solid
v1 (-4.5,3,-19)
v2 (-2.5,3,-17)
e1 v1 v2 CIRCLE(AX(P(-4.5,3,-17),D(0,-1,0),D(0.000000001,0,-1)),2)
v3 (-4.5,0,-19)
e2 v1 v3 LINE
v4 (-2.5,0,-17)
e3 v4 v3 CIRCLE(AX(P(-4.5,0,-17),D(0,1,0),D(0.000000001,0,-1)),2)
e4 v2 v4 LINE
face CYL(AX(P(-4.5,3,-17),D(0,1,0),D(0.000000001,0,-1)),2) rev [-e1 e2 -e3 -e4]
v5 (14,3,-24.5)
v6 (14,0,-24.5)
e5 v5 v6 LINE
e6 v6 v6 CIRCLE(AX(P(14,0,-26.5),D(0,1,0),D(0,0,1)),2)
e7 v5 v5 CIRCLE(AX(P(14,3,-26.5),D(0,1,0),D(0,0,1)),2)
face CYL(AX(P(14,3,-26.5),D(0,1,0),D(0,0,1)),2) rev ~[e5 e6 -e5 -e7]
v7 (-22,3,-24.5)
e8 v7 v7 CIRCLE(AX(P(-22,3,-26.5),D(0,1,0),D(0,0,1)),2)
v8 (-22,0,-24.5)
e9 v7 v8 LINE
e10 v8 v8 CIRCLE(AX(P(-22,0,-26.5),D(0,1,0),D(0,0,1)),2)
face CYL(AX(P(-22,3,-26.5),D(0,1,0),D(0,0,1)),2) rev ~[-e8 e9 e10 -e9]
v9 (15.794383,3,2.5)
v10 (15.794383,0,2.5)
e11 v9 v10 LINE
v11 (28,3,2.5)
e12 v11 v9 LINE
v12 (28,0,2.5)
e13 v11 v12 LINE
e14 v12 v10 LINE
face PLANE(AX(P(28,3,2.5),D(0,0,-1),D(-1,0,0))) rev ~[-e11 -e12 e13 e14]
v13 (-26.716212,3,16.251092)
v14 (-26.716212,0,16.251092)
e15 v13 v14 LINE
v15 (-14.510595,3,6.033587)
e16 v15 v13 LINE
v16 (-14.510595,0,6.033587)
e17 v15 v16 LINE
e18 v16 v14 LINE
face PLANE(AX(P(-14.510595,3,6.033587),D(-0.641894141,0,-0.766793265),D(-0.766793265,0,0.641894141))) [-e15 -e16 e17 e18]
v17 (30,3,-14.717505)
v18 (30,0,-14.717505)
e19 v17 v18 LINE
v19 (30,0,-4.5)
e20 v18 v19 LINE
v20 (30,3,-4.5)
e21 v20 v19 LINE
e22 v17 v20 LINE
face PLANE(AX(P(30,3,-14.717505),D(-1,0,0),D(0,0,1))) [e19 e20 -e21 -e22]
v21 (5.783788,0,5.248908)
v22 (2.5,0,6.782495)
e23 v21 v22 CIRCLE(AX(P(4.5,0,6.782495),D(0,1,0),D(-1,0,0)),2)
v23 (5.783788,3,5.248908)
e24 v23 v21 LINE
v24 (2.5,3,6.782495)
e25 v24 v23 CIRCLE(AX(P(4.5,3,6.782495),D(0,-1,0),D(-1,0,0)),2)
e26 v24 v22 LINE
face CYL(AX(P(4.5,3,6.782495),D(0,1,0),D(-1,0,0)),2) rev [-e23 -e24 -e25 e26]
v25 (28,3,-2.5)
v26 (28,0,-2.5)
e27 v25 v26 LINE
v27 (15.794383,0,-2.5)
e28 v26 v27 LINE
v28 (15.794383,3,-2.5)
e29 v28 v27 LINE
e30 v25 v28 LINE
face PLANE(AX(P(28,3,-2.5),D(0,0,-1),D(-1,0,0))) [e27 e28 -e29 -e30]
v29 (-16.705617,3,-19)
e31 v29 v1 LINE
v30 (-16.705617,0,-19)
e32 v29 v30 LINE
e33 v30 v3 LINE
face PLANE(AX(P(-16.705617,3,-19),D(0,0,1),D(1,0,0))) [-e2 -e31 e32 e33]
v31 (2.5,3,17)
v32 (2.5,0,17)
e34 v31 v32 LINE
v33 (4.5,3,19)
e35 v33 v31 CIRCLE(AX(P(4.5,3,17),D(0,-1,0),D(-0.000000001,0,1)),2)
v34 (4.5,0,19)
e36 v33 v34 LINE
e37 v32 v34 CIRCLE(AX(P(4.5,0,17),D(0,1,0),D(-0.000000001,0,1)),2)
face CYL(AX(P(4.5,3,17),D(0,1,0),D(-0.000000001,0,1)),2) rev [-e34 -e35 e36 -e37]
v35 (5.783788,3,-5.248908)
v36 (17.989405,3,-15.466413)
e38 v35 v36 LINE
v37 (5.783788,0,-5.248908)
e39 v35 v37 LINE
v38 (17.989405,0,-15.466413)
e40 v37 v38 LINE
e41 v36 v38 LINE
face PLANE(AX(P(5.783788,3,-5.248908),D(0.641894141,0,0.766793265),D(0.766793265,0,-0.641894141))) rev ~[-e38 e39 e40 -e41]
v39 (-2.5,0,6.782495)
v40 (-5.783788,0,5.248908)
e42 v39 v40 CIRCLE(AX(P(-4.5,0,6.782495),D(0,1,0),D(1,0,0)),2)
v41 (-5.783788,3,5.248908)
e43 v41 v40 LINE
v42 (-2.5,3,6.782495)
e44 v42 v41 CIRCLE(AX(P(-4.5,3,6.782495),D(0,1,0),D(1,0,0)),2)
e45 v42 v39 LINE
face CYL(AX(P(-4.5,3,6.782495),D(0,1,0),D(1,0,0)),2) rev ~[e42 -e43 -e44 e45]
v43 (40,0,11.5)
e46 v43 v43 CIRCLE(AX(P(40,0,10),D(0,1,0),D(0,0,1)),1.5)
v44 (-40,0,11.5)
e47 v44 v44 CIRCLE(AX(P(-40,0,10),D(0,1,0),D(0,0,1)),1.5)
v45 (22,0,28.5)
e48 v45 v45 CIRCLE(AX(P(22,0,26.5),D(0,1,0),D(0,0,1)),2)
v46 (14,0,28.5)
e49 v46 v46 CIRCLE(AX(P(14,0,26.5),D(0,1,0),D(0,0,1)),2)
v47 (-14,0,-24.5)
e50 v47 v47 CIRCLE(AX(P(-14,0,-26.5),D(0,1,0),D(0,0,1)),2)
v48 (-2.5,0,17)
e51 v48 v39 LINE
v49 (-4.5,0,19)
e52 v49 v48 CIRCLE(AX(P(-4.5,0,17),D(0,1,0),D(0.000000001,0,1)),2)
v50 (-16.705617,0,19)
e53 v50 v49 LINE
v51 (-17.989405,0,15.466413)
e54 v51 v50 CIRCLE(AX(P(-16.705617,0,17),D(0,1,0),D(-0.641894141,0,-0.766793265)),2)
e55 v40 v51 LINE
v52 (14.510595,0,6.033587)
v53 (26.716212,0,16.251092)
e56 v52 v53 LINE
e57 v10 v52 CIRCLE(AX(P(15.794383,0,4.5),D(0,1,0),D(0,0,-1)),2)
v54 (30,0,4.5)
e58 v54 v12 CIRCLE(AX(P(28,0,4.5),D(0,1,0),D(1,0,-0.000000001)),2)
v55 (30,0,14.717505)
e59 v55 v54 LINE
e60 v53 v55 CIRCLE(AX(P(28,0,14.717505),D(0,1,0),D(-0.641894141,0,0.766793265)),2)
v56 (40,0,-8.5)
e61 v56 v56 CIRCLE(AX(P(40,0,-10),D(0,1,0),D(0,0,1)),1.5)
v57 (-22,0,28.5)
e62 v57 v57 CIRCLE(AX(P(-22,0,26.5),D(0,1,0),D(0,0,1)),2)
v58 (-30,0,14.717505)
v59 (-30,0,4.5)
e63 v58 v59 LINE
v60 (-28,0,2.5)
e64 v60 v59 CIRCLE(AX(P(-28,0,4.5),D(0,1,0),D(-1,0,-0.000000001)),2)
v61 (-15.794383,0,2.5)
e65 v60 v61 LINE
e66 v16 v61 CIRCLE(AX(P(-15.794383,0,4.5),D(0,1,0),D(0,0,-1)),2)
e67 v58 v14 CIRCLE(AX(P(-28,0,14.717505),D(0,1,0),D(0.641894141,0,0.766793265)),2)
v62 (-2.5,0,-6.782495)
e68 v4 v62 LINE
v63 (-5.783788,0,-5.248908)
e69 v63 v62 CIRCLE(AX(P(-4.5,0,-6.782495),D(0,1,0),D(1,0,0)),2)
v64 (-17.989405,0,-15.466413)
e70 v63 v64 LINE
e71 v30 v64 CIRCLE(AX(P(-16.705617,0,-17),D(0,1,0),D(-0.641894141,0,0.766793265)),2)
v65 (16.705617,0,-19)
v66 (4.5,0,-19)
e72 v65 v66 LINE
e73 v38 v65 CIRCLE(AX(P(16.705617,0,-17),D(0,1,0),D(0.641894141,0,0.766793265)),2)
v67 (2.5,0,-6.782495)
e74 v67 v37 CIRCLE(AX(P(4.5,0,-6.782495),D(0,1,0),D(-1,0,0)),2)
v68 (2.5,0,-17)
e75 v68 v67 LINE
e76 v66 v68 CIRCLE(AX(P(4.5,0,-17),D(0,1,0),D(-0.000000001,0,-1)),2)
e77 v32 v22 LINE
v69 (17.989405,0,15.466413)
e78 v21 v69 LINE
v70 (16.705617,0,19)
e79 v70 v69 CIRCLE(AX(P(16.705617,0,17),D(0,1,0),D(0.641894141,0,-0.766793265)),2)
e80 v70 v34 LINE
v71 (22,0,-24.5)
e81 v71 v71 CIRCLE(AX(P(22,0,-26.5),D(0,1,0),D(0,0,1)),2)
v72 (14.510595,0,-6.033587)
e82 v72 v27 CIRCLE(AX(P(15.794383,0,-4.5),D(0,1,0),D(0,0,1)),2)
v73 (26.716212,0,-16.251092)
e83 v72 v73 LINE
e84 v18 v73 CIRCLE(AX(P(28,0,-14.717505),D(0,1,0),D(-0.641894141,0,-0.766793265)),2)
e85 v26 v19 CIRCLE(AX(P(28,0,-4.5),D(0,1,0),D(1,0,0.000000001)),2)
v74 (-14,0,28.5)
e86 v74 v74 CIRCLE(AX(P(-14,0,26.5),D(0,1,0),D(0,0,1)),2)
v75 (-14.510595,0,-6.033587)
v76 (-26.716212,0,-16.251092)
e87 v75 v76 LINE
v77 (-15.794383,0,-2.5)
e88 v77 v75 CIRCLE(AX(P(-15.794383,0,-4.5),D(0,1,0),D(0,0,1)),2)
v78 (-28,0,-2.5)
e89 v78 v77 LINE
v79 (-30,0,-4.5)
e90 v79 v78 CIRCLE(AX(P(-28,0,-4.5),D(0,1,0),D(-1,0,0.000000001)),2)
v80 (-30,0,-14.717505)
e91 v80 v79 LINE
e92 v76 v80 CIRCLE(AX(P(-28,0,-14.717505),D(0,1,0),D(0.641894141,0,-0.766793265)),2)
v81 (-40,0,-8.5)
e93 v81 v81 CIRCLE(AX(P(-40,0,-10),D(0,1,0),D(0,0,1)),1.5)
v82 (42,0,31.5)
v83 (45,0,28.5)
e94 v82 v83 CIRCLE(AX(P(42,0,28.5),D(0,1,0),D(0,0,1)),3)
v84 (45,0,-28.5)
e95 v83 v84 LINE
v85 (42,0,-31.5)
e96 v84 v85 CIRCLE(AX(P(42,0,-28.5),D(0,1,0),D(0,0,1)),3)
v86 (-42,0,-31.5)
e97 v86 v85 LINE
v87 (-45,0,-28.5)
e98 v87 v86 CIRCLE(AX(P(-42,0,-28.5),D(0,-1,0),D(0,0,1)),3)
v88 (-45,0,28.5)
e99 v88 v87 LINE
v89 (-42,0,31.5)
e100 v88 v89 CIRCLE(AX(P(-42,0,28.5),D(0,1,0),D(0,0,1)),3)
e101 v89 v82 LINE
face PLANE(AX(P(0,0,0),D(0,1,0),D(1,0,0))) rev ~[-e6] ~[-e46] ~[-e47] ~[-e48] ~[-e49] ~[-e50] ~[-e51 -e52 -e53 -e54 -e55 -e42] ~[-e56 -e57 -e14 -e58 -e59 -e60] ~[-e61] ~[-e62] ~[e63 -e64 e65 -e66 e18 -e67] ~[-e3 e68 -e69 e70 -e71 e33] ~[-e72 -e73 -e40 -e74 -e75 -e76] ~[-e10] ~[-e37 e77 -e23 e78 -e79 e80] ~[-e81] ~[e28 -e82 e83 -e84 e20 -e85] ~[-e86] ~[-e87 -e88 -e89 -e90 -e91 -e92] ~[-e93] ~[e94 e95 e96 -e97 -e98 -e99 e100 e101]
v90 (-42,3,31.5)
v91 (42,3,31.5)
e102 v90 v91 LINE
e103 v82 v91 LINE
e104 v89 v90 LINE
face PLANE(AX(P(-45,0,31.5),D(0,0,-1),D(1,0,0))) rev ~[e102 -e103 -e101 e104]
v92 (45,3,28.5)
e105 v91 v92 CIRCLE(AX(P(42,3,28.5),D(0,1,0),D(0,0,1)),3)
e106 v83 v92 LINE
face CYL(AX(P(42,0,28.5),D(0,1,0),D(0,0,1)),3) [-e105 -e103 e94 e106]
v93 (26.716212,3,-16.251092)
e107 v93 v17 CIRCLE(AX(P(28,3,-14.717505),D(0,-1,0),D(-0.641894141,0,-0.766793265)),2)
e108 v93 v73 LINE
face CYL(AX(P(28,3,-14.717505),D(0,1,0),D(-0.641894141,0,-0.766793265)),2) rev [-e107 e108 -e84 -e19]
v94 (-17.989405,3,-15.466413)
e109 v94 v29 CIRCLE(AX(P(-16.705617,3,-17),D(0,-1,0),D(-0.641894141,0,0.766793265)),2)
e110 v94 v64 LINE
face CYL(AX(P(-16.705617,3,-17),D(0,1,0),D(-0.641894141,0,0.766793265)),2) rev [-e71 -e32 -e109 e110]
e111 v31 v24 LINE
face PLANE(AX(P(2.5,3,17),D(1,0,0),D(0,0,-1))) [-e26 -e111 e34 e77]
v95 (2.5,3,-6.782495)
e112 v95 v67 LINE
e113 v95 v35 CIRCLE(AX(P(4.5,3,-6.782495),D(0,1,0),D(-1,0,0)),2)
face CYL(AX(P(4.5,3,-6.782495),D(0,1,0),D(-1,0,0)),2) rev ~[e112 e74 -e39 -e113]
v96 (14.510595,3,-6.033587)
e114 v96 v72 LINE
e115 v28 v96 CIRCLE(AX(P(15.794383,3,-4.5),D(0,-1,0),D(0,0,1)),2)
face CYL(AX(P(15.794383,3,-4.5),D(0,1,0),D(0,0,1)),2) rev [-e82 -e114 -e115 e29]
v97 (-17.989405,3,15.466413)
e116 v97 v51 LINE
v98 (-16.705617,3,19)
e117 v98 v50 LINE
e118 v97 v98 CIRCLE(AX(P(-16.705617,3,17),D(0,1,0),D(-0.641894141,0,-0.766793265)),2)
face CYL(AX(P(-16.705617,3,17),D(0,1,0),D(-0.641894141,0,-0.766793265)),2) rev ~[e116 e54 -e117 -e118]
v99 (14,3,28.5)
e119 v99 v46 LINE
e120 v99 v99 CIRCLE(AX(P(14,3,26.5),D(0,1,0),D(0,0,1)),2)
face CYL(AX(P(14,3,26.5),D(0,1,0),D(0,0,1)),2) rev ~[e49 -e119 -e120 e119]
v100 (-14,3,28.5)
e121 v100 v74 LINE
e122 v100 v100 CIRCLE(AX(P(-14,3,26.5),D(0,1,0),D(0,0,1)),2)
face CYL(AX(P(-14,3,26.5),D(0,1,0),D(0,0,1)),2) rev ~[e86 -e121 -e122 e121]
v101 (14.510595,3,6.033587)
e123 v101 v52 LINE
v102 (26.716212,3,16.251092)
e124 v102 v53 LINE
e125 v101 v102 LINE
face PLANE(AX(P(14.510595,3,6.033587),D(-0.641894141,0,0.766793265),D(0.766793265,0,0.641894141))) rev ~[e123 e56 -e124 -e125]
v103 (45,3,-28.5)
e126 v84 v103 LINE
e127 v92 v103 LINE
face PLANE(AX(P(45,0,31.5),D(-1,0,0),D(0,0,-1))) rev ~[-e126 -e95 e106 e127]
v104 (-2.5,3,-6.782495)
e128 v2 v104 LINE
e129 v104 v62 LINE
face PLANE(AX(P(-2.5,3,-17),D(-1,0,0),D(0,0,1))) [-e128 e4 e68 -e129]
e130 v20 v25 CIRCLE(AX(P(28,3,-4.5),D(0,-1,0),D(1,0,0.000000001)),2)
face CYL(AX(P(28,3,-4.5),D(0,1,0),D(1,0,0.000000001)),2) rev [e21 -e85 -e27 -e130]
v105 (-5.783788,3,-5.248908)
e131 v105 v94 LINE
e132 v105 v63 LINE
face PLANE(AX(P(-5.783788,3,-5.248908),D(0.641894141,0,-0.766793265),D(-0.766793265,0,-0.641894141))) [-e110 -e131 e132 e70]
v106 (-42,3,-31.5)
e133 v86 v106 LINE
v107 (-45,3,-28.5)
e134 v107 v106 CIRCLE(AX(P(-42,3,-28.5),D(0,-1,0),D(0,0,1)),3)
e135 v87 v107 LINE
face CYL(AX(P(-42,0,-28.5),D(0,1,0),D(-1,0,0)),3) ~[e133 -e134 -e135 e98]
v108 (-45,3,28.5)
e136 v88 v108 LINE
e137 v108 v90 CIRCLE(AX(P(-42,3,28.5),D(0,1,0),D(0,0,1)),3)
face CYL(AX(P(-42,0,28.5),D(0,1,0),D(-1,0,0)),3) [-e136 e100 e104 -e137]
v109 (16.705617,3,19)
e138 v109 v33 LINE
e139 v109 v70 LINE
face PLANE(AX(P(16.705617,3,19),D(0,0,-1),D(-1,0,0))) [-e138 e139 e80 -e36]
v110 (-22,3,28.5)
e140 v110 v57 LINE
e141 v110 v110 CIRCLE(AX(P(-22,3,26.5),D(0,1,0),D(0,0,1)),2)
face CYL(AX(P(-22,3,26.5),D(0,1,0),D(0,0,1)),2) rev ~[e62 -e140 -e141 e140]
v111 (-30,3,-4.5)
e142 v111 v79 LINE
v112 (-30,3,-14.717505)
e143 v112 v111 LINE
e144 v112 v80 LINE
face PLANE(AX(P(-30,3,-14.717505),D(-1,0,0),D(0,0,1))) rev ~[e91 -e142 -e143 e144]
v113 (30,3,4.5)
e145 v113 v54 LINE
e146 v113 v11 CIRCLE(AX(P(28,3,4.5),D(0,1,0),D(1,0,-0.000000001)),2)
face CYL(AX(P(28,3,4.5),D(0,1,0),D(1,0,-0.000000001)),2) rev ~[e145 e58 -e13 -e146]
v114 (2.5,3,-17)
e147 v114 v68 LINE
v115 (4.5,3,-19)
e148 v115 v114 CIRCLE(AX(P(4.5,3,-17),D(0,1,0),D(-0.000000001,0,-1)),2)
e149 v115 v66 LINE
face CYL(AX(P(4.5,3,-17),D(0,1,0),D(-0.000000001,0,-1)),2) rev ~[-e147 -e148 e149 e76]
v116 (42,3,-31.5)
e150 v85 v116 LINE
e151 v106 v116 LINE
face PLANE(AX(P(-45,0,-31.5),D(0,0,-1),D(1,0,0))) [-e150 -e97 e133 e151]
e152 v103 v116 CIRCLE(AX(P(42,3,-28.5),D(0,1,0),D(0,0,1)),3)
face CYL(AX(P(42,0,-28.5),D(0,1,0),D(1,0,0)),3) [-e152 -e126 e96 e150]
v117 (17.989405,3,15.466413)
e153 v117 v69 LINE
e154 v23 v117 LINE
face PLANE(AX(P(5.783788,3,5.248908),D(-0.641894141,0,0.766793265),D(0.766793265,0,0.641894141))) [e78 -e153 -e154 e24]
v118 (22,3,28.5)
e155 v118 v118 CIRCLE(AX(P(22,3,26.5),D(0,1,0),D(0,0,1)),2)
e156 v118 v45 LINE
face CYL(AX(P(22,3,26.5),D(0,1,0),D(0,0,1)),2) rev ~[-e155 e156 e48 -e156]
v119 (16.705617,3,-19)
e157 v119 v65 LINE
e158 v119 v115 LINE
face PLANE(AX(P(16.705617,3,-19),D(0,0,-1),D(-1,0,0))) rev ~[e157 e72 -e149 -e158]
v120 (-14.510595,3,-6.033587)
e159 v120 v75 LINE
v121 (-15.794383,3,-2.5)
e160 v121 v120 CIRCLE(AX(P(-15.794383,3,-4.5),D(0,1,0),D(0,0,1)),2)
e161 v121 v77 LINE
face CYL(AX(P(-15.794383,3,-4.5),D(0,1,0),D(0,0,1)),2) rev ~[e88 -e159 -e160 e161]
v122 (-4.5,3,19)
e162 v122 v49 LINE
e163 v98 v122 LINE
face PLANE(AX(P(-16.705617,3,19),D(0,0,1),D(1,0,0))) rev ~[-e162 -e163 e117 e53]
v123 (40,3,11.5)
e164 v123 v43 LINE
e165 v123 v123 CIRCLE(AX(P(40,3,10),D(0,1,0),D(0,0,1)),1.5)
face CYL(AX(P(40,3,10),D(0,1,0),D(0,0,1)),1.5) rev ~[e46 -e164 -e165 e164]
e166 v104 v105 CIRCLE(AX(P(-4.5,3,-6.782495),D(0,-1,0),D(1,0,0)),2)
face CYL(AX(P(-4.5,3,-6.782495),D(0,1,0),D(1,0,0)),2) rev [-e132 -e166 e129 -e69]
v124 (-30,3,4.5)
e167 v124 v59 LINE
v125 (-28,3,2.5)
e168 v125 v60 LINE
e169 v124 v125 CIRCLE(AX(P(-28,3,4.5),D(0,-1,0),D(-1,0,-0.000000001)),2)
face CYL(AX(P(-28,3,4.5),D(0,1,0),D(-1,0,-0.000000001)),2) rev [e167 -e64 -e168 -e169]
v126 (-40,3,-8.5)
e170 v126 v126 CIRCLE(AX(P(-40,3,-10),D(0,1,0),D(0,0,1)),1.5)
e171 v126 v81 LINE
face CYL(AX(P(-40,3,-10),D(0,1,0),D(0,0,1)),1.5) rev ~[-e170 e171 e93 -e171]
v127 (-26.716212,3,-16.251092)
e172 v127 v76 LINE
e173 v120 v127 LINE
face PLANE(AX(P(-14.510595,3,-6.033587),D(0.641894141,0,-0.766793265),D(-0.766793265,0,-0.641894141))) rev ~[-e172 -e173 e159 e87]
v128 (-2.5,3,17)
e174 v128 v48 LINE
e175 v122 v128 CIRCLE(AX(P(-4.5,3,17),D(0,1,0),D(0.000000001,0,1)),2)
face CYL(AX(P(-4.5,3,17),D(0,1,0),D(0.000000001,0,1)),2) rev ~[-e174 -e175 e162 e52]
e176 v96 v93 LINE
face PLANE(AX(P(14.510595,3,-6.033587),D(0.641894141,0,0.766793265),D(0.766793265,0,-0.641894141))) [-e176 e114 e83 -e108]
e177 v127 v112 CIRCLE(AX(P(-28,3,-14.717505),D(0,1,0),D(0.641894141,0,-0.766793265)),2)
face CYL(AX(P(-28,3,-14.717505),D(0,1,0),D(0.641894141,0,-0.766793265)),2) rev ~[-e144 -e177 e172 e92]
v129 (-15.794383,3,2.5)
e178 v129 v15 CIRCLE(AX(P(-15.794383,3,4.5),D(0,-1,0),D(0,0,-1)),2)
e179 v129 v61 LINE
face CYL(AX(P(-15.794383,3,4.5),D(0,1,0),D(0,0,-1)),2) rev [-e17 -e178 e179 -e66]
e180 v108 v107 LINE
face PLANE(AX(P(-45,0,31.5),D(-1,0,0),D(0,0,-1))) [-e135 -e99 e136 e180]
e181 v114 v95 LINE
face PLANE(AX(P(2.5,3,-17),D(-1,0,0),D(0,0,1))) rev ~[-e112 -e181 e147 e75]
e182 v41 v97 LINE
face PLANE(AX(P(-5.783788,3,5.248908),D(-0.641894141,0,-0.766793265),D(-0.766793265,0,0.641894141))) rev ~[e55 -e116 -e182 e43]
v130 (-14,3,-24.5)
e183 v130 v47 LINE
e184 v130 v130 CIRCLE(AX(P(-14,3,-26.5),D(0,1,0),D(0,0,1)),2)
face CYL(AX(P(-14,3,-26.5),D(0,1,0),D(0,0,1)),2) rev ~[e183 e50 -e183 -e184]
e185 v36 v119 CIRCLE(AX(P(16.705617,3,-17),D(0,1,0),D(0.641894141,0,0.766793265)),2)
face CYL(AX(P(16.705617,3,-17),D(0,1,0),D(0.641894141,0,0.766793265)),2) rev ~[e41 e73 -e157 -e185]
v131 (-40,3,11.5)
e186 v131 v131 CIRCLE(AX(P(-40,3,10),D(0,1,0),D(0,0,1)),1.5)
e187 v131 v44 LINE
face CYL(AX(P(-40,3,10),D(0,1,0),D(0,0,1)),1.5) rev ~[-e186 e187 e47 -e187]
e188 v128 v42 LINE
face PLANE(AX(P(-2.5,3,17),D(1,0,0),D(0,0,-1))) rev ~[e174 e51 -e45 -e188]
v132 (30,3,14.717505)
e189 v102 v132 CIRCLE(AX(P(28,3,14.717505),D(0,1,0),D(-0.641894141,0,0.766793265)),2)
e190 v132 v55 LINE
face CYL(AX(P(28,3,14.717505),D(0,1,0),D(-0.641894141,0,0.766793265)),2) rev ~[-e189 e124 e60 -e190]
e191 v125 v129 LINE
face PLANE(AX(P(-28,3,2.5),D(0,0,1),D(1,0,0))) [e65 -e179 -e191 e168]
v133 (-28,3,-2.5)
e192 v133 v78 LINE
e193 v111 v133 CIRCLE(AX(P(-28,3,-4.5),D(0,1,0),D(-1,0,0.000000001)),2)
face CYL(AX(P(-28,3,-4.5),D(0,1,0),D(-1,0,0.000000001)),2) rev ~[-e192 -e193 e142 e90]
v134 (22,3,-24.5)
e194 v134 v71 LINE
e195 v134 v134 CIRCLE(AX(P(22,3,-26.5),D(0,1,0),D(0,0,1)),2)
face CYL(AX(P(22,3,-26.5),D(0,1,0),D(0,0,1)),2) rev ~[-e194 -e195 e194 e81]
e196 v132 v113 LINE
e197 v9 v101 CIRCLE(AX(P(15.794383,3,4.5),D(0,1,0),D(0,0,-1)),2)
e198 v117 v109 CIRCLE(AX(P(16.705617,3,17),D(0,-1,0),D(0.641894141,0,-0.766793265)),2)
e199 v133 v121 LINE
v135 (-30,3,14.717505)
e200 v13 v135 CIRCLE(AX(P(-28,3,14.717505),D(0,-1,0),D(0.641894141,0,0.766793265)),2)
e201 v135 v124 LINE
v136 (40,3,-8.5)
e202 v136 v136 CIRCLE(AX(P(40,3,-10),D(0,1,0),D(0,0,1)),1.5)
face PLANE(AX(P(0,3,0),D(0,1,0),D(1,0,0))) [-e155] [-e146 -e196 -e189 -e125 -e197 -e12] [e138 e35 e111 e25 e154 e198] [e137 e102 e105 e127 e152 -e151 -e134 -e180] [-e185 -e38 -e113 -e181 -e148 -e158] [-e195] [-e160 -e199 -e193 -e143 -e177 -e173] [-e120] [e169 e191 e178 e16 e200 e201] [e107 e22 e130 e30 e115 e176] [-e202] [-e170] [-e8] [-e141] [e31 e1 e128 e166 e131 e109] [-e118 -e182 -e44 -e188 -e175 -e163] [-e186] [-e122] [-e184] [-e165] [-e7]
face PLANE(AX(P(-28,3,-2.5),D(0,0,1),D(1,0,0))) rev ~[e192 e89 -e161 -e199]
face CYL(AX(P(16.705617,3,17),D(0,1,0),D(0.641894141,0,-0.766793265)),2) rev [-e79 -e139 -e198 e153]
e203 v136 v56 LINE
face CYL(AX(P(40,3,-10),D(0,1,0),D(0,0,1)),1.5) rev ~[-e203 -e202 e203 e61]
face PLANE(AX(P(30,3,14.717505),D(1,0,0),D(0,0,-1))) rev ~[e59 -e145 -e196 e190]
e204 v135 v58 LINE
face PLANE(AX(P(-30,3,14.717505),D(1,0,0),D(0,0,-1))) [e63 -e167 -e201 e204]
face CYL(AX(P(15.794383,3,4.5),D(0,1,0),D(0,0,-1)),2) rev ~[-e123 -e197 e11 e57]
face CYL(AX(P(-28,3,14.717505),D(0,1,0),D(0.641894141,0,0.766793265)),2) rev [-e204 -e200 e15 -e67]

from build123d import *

# Parameters (mm, degrees)
SKETCH_1_W          = 90
SKETCH_1_H          = 63
EXTRUDE_1_DEPTH     = 3
FILLET_1_R          = 3
SKETCH_2_R          = 1.5
SKETCH_2_R_2        = 2
CUT_EXTRUDE_1_DEPTH = 10
CUT_EXTRUDE_2_DEPTH = 10


with BuildPart() as part:
    # 草图1 → 凸台-拉伸1 (new body)
    with BuildSketch(Plane(origin=(0, 0, 0), x_dir=(1, 0, 0), z_dir=(0, 1, 0))):
        Rectangle(SKETCH_1_W, SKETCH_1_H)
    extrude(amount=EXTRUDE_1_DEPTH)

    # 圆角1
    fillet_1_edges = [part.edges().sort_by_distance(p)[0] for p in [
        (45, 1.5, 31.5),
        (-45, 1.5, 31.5),
        (-45, 1.5, -31.5),
        (45, 1.5, -31.5),
    ]]
    fillet(fillet_1_edges, radius=FILLET_1_R)

    # 草图2 → 切除-拉伸1 (cut)
    with BuildSketch(Plane(origin=(0, 3, 0), x_dir=(1, 0, 0), z_dir=(0, 1, 0))):
        with Locations(Location((-40, 10, 0), (0, 0, 270))):
            Circle(SKETCH_2_R)
        with Locations(Location((-40, -10, 0), (0, 0, 270))):
            Circle(SKETCH_2_R)
        with Locations(Location((40, -10, 0), (0, 0, 270))):
            Circle(SKETCH_2_R)
        with Locations(Location((40, 10, 0), (0, 0, 270))):
            Circle(SKETCH_2_R)
        with Locations(Location((-22, -26.5, 0), (0, 0, 270))):
            Circle(SKETCH_2_R_2)
        with Locations(Location((-14, -26.5, 0), (0, 0, 270))):
            Circle(SKETCH_2_R_2)
        with Locations(Location((14, -26.5, 0), (0, 0, 270))):
            Circle(SKETCH_2_R_2)
        with Locations(Location((22, -26.5, 0), (0, 0, 270))):
            Circle(SKETCH_2_R_2)
        with Locations(Location((22, 26.5, 0), (0, 0, 270))):
            Circle(SKETCH_2_R_2)
        with Locations(Location((14, 26.5, 0), (0, 0, 270))):
            Circle(SKETCH_2_R_2)
        with Locations(Location((-14, 26.5, 0), (0, 0, 270))):
            Circle(SKETCH_2_R_2)
        with Locations(Location((-22, 26.5, 0), (0, 0, 270))):
            Circle(SKETCH_2_R_2)
    extrude(amount=-CUT_EXTRUDE_1_DEPTH, mode=Mode.SUBTRACT)

    # 草图4 → 切除-拉伸2 (cut)
    with BuildSketch(Plane(origin=(0, 3, 0), x_dir=(1, 0, 0), z_dir=(0, 1, 0))):
        with BuildLine():
            Line((16.70561704, -19), (4.5, -19))
            ThreePointArc((4.5, -19), (3.085786438, -18.414213562), (2.5, -17))
            Line((2.5, -17), (2.5, -6.782494944))
            ThreePointArc((2.5, -6.782494944), (3.653707073, -4.970372354), (5.783788282, -5.248908414))
            Line((5.783788282, -5.248908414), (17.989405322, -15.466413469))
            ThreePointArc((17.989405322, -15.466413469), (18.585400679, -17.682944704), (16.70561704, -19))
        make_face()
        with BuildLine():
            Line((14.510594678, -6.033586531), (26.716211718, -16.251091586))
            ThreePointArc((26.716211718, -16.251091586), (28.846292927, -16.529627646), (30, -14.717505056))
            Line((30, -14.717505056), (30, -4.5))
            ThreePointArc((30, -4.5), (29.414213562, -3.085786438), (28, -2.5))
            Line((28, -2.5), (15.79438296, -2.5))
            ThreePointArc((15.79438296, -2.5), (13.914599321, -3.817055296), (14.510594678, -6.033586531))
        make_face()
        with BuildLine():
            Line((28, 2.5), (15.79438296, 2.5))
            ThreePointArc((15.79438296, 2.5), (13.914599321, 3.817055296), (14.510594678, 6.033586531))
            Line((14.510594678, 6.033586531), (26.716211718, 16.251091586))
            ThreePointArc((26.716211718, 16.251091586), (28.846292927, 16.529627646), (30, 14.717505056))
            Line((30, 14.717505056), (30, 4.5))
            ThreePointArc((30, 4.5), (29.414213562, 3.085786438), (28, 2.5))
        make_face()
        with BuildLine():
            Line((5.783788282, 5.248908414), (17.989405322, 15.466413469))
            ThreePointArc((17.989405322, 15.466413469), (18.585400679, 17.682944704), (16.70561704, 19))
            Line((16.70561704, 19), (4.5, 19))
            ThreePointArc((4.5, 19), (3.085786438, 18.414213562), (2.5, 17))
            Line((2.5, 17), (2.5, 6.782494944))
            ThreePointArc((2.5, 6.782494944), (3.653707073, 4.970372354), (5.783788282, 5.248908414))
        make_face()
        with BuildLine():
            Line((-16.70561704, 19), (-4.5, 19))
            ThreePointArc((-4.5, 19), (-3.085786438, 18.414213562), (-2.5, 17))
            Line((-2.5, 17), (-2.5, 6.782494944))
            ThreePointArc((-2.5, 6.782494944), (-3.653707073, 4.970372354), (-5.783788282, 5.248908414))
            Line((-5.783788282, 5.248908414), (-17.989405322, 15.466413469))
            ThreePointArc((-17.989405322, 15.466413469), (-18.585400679, 17.682944704), (-16.70561704, 19))
        make_face()
        with BuildLine():
            Line((-14.510594678, 6.033586531), (-26.716211718, 16.251091586))
            ThreePointArc((-26.716211718, 16.251091586), (-28.846292927, 16.529627646), (-30, 14.717505056))
            Line((-30, 14.717505056), (-30, 4.5))
            ThreePointArc((-30, 4.5), (-29.414213562, 3.085786438), (-28, 2.5))
            Line((-28, 2.5), (-15.79438296, 2.5))
            ThreePointArc((-15.79438296, 2.5), (-13.914599321, 3.817055296), (-14.510594678, 6.033586531))
        make_face()
        with BuildLine():
            Line((-28, -2.5), (-15.79438296, -2.5))
            ThreePointArc((-15.79438296, -2.5), (-13.914599321, -3.817055296), (-14.510594678, -6.033586531))
            Line((-14.510594678, -6.033586531), (-26.716211718, -16.251091586))
            ThreePointArc((-26.716211718, -16.251091586), (-28.846292927, -16.529627646), (-30, -14.717505056))
            Line((-30, -14.717505056), (-30, -4.5))
            ThreePointArc((-30, -4.5), (-29.414213562, -3.085786438), (-28, -2.5))
        make_face()
        with BuildLine():
            Line((-5.783788282, -5.248908414), (-17.989405322, -15.466413469))
            ThreePointArc((-17.989405322, -15.466413469), (-18.585400679, -17.682944704), (-16.70561704, -19))
            Line((-16.70561704, -19), (-4.5, -19))
            ThreePointArc((-4.5, -19), (-3.085786438, -18.414213562), (-2.5, -17))
            Line((-2.5, -17), (-2.5, -6.782494944))
            ThreePointArc((-2.5, -6.782494944), (-3.653707073, -4.970372354), (-5.783788282, -5.248908414))
        make_face()
    extrude(amount=-CUT_EXTRUDE_2_DEPTH, mode=Mode.SUBTRACT)


solid = part.part
